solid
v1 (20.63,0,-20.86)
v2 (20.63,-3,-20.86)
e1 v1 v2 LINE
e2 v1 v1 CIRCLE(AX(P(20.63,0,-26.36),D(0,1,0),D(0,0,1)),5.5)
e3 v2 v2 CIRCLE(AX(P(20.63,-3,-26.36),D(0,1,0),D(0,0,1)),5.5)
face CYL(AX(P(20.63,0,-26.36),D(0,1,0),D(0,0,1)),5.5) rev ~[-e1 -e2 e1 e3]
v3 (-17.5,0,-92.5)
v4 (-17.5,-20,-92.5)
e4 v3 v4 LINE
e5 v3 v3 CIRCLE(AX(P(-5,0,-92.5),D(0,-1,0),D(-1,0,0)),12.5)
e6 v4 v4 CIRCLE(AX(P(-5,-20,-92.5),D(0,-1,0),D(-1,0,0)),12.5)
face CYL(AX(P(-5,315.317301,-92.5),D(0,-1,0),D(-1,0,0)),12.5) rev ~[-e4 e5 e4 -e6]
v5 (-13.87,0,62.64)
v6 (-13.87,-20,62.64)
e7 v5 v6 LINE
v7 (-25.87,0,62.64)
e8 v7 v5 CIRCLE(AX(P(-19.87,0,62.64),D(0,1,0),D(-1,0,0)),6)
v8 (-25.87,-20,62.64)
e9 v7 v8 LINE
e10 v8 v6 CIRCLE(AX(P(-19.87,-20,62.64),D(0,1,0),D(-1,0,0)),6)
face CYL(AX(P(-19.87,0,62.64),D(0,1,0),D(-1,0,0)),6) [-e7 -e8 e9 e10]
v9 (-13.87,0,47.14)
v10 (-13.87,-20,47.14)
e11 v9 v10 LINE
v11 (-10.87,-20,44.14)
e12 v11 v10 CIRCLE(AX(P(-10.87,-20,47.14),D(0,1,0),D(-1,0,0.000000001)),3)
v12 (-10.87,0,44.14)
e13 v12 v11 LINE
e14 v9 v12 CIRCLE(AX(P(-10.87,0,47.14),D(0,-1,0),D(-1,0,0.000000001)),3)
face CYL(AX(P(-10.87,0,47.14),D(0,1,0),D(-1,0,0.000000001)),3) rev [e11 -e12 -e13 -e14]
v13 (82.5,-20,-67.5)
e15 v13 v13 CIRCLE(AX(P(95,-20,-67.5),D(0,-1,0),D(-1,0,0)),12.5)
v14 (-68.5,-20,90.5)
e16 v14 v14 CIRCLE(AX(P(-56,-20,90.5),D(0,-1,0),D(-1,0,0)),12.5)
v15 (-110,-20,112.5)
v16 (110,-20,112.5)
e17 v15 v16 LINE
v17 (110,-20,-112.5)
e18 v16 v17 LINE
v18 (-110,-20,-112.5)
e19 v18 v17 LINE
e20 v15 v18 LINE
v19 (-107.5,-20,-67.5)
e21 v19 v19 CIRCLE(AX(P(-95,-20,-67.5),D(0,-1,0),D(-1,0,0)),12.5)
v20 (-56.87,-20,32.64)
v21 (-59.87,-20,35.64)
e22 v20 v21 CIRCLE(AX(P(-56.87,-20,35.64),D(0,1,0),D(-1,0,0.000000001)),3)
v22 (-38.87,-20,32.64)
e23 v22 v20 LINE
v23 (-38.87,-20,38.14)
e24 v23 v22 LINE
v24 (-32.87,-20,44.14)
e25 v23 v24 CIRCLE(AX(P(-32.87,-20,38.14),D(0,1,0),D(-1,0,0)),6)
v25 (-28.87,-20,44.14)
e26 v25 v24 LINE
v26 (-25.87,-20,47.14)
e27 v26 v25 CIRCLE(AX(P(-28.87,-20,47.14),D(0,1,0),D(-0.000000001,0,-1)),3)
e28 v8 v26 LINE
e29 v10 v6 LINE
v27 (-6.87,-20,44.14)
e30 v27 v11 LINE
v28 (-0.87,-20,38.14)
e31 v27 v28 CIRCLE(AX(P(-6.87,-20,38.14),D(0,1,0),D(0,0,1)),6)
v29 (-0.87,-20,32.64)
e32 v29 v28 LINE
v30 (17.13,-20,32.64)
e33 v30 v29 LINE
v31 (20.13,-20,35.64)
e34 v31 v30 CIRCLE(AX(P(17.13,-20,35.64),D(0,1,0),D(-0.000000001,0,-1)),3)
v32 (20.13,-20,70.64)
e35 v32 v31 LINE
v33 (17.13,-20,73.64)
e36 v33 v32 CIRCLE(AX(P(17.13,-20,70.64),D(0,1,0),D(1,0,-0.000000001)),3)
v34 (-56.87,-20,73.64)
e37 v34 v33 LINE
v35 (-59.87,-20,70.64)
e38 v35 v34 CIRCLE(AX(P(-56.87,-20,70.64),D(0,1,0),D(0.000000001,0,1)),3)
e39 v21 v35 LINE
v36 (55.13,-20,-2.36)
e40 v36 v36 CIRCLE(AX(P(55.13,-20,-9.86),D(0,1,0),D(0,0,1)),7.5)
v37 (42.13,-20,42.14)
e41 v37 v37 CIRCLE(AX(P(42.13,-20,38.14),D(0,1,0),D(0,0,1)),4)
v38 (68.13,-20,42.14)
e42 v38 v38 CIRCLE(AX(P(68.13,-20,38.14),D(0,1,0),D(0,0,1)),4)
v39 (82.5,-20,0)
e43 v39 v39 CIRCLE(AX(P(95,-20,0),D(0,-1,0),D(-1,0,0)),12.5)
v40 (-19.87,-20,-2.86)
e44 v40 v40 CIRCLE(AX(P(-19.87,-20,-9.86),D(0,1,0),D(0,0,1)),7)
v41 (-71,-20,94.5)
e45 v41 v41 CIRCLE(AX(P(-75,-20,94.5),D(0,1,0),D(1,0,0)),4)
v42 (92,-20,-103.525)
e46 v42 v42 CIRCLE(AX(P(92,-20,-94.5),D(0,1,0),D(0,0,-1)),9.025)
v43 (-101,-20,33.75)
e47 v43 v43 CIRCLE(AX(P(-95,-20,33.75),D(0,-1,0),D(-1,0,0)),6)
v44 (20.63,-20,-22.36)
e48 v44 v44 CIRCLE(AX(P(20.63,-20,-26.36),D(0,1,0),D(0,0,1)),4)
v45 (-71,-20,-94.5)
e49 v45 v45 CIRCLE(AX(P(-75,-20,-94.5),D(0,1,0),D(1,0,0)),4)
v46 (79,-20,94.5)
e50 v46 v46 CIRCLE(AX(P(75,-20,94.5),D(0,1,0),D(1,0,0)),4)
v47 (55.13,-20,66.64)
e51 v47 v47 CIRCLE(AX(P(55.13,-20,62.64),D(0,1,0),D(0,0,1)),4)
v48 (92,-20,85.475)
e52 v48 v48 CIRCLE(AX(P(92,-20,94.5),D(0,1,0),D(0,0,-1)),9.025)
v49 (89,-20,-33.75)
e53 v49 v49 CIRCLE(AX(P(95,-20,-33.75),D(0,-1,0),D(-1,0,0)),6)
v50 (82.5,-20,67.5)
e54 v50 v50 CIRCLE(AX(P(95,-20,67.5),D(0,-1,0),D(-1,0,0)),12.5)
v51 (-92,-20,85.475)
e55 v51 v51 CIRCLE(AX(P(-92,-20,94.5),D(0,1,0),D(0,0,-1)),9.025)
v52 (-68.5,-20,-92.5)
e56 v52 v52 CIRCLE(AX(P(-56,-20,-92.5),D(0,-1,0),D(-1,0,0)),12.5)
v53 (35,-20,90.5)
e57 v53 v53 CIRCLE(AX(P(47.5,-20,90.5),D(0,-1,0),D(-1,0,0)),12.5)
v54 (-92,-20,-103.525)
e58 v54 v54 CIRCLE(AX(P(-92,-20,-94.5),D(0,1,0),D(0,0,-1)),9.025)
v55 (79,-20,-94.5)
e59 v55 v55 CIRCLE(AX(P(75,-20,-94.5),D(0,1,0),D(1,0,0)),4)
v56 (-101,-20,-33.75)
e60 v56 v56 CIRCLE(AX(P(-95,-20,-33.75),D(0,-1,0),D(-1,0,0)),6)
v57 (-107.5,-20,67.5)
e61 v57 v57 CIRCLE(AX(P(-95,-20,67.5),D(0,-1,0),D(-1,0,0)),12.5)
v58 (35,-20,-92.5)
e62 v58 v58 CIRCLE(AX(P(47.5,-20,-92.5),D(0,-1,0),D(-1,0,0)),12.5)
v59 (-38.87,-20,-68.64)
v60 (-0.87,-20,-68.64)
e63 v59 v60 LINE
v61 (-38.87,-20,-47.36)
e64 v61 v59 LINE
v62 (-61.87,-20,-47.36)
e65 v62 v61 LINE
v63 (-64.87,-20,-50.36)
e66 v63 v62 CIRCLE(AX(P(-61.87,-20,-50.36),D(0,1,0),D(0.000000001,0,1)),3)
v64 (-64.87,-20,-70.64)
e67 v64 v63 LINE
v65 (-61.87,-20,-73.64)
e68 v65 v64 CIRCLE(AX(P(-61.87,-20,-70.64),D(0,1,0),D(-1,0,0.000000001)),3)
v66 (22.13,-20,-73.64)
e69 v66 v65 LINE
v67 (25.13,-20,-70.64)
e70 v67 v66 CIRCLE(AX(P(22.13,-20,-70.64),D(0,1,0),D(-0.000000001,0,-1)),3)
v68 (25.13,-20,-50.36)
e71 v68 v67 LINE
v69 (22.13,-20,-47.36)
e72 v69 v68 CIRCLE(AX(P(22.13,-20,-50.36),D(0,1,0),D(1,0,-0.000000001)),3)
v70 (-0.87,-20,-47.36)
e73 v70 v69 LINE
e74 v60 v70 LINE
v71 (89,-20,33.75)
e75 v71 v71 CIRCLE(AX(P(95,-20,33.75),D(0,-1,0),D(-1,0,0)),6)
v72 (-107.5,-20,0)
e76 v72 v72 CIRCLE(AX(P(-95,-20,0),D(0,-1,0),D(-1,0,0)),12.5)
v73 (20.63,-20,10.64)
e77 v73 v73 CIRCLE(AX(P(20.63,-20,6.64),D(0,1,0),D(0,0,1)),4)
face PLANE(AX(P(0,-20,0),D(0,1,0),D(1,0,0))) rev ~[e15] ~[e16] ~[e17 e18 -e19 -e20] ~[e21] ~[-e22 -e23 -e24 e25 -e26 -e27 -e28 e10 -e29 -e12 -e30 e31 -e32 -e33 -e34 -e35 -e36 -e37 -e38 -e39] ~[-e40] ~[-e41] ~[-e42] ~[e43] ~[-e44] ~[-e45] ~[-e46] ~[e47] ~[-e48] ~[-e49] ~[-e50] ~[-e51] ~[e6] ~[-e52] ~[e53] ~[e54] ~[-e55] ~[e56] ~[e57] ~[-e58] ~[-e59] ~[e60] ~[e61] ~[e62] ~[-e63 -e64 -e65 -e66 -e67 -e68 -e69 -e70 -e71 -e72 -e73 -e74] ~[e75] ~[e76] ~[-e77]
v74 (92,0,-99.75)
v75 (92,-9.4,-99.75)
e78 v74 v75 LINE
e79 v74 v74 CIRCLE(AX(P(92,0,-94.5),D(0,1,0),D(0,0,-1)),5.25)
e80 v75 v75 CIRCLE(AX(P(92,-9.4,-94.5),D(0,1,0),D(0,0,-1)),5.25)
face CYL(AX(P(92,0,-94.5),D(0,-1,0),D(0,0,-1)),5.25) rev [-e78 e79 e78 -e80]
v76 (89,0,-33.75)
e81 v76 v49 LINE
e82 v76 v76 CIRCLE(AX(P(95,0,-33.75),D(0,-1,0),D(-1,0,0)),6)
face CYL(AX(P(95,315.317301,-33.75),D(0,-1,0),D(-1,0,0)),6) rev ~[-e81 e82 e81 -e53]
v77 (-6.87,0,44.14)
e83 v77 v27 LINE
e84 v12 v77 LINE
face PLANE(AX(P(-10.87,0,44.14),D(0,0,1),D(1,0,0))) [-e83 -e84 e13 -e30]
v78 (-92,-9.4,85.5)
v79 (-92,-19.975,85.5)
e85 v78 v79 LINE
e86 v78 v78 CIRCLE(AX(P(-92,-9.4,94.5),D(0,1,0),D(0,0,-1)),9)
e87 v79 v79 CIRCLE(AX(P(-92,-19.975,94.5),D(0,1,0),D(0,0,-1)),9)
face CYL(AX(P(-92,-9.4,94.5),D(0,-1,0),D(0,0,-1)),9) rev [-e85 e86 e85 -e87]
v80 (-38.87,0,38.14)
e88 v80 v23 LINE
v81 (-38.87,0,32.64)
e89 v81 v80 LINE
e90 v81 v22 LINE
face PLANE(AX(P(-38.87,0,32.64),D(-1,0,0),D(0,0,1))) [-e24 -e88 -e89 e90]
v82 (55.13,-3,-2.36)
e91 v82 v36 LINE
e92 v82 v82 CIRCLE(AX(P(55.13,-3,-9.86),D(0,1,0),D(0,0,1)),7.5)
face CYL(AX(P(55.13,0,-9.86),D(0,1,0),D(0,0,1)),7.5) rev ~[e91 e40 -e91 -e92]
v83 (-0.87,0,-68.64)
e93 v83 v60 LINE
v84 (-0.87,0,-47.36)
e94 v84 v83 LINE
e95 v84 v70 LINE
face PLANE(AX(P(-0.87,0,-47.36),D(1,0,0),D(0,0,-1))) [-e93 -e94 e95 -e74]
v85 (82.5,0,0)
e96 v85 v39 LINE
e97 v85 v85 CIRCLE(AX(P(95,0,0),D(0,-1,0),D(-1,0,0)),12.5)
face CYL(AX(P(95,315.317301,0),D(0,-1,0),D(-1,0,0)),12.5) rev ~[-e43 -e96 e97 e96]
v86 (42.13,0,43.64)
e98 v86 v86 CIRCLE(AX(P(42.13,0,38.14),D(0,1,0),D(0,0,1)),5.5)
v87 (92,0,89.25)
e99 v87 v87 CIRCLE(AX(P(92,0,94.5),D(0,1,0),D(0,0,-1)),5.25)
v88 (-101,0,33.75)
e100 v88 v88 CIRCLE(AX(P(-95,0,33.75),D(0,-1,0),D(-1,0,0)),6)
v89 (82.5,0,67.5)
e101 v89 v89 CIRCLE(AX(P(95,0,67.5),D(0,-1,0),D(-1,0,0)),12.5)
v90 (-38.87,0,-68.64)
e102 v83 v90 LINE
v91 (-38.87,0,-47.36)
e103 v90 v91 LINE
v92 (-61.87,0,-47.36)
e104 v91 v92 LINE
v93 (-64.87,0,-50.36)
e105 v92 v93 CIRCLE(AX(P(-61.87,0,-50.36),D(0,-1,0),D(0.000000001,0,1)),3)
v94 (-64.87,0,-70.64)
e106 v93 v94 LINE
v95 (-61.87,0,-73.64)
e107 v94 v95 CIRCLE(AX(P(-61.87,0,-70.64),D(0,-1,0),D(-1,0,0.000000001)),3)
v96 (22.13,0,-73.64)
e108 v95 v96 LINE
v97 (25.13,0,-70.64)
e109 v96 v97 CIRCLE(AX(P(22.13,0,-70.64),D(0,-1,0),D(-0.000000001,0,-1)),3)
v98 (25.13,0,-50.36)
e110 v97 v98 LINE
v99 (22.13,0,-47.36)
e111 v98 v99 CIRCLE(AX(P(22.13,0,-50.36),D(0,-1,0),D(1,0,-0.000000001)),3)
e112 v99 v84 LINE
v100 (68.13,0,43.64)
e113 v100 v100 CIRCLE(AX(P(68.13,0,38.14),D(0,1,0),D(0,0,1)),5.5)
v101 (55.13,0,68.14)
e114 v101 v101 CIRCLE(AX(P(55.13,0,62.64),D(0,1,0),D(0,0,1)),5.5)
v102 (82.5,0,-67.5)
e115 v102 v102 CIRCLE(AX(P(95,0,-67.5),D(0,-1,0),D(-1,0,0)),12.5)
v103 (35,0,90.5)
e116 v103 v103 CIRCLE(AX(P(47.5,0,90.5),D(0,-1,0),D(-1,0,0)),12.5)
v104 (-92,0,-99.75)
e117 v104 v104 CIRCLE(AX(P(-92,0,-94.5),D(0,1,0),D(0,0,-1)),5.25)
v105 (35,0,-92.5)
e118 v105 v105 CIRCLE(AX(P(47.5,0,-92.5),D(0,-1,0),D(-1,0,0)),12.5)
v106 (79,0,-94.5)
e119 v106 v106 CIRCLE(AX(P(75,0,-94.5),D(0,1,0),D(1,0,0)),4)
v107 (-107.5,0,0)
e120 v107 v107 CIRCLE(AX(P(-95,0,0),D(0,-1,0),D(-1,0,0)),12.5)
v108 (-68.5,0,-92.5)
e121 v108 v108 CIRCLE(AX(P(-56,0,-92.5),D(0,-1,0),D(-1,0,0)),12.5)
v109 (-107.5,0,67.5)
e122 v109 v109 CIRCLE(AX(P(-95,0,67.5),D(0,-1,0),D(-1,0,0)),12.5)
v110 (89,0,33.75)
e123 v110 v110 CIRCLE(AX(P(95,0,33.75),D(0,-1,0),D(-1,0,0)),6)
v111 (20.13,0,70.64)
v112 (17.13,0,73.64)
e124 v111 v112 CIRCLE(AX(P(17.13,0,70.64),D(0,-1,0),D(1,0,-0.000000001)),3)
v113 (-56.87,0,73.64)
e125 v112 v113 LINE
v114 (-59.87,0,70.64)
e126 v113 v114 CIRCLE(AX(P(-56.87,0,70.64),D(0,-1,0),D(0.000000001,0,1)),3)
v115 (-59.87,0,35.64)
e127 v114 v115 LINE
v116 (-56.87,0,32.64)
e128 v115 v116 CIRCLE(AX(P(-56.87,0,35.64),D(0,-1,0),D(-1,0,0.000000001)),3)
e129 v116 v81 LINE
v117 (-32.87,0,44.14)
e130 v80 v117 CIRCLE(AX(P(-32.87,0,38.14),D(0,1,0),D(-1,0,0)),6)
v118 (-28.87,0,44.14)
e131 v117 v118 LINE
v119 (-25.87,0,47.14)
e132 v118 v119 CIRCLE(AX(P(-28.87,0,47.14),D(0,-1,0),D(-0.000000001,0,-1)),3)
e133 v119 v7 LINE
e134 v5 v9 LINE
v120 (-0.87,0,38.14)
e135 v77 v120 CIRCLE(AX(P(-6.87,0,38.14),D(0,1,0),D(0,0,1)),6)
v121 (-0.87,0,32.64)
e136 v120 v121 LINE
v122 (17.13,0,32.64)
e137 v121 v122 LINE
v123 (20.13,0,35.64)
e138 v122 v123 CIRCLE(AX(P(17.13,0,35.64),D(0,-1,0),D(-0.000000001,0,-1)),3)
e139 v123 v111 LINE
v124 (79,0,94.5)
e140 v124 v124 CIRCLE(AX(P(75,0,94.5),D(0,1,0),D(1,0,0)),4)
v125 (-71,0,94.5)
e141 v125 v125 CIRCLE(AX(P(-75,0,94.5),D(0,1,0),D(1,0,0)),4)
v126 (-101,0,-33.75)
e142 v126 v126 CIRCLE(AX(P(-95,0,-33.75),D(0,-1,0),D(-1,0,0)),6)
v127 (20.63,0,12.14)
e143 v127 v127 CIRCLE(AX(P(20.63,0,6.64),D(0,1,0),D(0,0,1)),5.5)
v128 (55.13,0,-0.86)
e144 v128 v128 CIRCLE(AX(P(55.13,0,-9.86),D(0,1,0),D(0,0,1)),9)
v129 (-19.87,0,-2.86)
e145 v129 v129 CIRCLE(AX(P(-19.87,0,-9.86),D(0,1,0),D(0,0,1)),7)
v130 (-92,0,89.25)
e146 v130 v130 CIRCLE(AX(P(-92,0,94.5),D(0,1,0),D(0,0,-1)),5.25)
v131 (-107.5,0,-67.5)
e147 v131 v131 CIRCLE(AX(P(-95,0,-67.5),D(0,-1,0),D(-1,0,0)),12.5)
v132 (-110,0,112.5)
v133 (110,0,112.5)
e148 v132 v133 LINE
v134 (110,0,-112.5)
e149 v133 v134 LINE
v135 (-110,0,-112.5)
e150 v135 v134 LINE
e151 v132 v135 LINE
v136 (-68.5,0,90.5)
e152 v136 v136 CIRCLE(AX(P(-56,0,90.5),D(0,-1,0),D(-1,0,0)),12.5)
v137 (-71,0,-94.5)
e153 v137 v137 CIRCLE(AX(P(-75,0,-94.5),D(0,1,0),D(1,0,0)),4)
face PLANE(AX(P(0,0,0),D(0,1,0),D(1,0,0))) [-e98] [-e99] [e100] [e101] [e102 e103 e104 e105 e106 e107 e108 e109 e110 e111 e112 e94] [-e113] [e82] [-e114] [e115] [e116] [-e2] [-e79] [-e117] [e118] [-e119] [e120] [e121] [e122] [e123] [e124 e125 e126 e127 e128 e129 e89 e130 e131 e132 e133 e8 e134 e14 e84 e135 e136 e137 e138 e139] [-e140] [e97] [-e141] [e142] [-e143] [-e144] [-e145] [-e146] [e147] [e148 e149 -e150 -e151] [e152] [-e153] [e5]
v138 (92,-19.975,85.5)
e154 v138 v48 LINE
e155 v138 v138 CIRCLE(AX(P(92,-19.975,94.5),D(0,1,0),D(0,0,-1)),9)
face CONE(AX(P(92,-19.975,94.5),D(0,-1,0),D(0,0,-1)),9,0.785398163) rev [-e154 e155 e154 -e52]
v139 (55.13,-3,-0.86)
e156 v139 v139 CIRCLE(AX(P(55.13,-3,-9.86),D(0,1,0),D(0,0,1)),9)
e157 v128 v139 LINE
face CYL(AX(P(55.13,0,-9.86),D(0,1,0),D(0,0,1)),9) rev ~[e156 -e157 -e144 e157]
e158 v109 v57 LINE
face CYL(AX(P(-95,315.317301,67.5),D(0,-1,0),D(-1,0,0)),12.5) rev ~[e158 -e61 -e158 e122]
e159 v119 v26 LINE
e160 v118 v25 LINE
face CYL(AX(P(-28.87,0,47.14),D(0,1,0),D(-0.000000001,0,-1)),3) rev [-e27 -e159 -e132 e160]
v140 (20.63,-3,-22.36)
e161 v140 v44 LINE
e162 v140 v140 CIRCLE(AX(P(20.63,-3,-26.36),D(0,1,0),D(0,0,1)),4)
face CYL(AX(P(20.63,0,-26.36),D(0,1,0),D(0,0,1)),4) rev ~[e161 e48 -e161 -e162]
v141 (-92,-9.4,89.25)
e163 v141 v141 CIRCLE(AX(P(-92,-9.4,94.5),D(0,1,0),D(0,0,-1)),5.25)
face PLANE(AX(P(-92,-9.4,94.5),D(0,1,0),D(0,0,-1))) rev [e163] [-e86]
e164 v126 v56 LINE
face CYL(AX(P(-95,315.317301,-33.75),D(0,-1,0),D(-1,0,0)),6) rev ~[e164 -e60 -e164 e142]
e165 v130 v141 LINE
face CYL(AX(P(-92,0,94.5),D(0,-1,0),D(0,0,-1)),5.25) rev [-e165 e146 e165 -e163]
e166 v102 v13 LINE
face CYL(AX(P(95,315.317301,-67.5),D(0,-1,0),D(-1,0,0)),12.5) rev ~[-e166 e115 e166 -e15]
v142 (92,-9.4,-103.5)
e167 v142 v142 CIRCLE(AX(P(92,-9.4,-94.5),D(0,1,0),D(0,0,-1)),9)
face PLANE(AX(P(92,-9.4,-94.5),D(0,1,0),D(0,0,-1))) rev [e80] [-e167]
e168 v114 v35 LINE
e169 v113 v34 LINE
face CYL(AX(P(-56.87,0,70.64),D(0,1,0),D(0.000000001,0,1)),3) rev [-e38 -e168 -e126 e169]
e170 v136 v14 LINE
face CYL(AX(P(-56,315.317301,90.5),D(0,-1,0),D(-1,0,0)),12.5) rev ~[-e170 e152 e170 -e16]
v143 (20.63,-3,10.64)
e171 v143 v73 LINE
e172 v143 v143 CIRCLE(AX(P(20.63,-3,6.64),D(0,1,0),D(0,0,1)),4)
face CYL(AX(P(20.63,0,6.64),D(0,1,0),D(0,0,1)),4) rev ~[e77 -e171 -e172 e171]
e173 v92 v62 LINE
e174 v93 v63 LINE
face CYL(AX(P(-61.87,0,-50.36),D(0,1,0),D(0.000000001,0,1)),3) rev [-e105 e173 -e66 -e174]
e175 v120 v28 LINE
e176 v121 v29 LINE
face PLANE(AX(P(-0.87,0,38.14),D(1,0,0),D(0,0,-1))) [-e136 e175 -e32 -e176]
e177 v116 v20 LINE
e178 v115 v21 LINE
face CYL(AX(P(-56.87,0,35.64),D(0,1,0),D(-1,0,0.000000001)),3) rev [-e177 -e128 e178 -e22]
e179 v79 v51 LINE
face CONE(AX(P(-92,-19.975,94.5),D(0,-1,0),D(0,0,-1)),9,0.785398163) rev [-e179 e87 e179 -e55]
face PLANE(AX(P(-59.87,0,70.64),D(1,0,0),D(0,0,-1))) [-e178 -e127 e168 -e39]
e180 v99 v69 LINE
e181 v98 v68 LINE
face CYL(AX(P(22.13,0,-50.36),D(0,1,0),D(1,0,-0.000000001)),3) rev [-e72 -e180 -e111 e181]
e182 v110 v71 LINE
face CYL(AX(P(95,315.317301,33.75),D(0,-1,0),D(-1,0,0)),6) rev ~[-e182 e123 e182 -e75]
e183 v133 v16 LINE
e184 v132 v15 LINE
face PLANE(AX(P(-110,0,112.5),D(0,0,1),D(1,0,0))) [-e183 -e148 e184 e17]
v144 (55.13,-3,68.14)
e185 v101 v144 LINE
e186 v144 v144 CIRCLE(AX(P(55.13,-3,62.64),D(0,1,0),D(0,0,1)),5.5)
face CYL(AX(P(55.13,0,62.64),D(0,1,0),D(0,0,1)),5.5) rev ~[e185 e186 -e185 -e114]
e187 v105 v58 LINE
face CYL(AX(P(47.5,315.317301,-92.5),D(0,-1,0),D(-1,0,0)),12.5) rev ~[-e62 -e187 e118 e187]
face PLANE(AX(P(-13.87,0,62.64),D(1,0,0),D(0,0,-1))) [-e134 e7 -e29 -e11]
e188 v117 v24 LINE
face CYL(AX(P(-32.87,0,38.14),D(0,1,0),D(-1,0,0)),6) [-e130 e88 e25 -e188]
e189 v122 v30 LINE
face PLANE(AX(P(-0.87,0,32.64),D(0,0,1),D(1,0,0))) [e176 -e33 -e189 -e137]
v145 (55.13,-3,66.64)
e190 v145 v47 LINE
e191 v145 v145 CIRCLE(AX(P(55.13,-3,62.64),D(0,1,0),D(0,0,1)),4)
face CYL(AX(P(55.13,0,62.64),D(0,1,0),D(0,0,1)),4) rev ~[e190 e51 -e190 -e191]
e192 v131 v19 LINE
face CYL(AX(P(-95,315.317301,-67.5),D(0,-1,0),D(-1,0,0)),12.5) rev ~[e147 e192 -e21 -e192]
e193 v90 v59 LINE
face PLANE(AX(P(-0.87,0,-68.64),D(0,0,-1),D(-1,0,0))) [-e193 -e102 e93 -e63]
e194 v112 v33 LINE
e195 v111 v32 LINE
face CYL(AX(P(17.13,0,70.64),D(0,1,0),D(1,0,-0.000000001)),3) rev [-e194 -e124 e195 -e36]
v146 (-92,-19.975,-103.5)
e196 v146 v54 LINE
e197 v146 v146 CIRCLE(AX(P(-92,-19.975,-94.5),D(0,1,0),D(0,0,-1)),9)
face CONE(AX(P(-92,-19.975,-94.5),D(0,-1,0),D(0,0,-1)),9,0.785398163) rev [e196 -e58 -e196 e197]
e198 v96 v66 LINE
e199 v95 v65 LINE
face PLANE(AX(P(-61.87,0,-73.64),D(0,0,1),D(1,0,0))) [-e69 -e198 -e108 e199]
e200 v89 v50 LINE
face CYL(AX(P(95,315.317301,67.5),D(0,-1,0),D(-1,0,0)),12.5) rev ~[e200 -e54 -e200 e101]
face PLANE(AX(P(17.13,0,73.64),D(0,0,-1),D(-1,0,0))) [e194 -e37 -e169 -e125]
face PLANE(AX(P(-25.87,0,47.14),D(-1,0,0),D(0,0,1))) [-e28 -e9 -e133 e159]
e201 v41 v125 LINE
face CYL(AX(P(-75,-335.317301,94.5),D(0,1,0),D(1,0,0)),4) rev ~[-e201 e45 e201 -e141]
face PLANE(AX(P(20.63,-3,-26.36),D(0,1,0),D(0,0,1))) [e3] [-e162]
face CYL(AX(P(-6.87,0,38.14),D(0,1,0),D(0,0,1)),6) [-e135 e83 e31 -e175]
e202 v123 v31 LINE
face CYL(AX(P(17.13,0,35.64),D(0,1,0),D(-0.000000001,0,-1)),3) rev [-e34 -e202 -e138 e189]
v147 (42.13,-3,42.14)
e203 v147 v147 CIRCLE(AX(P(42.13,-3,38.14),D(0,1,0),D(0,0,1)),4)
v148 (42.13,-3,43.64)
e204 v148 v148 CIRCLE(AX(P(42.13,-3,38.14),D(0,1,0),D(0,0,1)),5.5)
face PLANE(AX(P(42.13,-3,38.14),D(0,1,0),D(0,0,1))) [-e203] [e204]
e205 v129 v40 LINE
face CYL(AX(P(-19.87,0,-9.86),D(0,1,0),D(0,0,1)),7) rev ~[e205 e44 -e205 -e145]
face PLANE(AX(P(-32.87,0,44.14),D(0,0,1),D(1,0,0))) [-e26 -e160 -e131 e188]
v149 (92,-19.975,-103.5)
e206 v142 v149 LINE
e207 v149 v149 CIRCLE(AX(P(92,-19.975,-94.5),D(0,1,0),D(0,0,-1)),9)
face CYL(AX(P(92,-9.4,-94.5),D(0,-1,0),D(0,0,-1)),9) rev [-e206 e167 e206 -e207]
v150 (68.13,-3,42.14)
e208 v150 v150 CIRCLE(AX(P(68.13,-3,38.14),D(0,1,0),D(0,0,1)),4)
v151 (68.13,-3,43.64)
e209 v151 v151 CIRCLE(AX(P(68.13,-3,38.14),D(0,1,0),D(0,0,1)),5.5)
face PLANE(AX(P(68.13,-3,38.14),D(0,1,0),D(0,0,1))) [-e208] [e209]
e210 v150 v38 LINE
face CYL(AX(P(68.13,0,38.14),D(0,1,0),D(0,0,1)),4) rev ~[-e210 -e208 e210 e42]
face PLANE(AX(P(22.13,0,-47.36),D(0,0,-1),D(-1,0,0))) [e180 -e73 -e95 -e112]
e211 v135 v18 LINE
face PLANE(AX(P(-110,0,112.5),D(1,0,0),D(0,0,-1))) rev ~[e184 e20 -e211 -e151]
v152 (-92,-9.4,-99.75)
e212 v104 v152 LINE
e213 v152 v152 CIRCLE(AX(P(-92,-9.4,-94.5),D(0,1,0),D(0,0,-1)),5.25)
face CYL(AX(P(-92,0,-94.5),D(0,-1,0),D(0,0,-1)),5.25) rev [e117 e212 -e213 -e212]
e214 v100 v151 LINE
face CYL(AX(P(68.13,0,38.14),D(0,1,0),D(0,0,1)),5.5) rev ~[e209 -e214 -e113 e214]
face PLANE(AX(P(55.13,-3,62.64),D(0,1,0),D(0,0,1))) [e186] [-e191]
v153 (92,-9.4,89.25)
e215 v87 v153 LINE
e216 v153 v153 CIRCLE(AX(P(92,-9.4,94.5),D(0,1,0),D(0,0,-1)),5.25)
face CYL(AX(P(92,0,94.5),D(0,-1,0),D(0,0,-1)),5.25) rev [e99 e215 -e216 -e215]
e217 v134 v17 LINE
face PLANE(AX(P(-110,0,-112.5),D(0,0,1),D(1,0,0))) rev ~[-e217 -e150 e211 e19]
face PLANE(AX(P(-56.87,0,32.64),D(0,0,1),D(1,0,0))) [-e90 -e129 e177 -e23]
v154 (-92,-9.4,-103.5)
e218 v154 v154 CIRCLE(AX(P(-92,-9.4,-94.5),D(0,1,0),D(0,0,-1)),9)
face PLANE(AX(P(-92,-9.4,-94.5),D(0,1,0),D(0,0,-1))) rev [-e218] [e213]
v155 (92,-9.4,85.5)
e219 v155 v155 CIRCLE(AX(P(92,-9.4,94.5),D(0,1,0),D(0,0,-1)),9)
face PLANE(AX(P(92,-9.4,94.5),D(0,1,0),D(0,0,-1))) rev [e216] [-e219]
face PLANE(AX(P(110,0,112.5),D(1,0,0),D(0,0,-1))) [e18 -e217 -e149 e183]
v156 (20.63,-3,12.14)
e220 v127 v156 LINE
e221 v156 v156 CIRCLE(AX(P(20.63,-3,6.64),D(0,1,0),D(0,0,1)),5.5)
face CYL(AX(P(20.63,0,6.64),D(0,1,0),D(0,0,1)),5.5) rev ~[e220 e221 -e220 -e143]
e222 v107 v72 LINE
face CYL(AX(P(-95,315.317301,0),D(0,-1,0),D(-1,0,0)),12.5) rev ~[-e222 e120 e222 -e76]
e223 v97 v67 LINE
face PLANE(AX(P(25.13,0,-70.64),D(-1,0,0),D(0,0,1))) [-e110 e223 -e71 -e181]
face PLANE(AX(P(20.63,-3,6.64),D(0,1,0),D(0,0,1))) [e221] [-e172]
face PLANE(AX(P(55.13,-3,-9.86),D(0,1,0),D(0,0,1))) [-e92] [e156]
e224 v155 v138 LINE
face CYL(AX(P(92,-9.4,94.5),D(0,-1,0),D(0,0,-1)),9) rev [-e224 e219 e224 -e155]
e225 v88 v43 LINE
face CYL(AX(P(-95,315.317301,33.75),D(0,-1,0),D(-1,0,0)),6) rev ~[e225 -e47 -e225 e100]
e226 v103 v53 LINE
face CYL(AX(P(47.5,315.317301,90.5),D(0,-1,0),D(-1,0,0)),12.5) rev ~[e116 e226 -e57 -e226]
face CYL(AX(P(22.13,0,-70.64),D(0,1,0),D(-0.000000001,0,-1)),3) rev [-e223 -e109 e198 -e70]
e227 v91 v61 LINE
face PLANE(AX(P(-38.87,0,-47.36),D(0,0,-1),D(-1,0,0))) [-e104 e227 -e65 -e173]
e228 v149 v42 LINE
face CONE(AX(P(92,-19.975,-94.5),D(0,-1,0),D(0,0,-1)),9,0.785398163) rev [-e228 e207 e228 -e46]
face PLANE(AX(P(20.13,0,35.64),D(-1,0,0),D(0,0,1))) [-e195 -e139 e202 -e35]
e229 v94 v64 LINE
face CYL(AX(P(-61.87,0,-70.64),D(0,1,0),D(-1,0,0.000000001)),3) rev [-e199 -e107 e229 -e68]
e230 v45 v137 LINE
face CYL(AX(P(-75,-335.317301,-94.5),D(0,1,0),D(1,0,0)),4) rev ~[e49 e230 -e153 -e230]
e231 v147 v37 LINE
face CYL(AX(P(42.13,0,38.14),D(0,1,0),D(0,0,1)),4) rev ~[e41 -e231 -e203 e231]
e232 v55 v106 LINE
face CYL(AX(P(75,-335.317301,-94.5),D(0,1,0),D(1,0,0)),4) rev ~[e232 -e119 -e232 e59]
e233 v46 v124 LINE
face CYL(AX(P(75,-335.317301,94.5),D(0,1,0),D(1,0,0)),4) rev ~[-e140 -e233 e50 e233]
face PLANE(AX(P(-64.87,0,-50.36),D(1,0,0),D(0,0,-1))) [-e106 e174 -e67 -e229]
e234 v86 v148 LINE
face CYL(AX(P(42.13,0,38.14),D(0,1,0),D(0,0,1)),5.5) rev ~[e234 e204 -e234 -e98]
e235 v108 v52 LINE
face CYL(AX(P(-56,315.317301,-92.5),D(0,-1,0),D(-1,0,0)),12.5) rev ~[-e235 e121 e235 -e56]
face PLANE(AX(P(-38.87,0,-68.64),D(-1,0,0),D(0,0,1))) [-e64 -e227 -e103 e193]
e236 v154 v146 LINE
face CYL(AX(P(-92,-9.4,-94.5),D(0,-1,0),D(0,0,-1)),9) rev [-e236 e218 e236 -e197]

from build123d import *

# Parameters (mm, degrees)
SKETCH1_W                                    = 220
SKETCH1_H                                    = 225
BOSS_EXTRUDE1_DEPTH                          = 20
CUT_EXTRUDE3_REACH                           = 160.607
CUT_EXTRUDE4_REACH                           = 160.607
CUT_EXTRUDE5_REACH                           = 160.607
SKETCH7_R                                    = 4
CUT_EXTRUDE6_REACH                           = 160.607
SKETCH9_R                                    = 7.5
SKETCH10_R                                   = 5.5
CUT_EXTRUDE7_DEPTH                           = 3
SKETCH11_R                                   = 9
CUT_EXTRUDE8_DEPTH                           = 3
CBORE_FOR_M10_HEX_SOCKET_HEAD_CAP_SC_2_COUNT = 2
CBORE_FOR_M10_HEX_SOCKET_HEAD_CAP_SC_2_PITCH = 184
CBORE_FOR_M10_HEX_SOCKET_HEAD_CAP_SC_3_COUNT = 2
CBORE_FOR_M10_HEX_SOCKET_HEAD_CAP_SC_3_PITCH = 263.774524926
CBORE_FOR_M10_HEX_SOCKET_HEAD_CAP_SC_4_COUNT = 2
CBORE_FOR_M10_HEX_SOCKET_HEAD_CAP_SC_4_PITCH = 189
F_8_0MM_DOWEL_HOLE1_D                        = 8
F_25_0_25_DIAMETER_HOLE1_D                   = 25
CUT_EXTRUDE9_REACH                           = 160.607
SKETCH26_R                                   = 7
F_12_0_12_DIAMETER_HOLE1_D                   = 12


with BuildPart() as part:
    # Sketch1 → Boss-Extrude1 (new body)
    with BuildSketch(Plane(origin=(0, 0, 0), x_dir=(1, 0, 0), z_dir=(0, 1, 0))):
        Rectangle(SKETCH1_W, SKETCH1_H)
    extrude(amount=-BOSS_EXTRUDE1_DEPTH)

    # Sketch5 → Cut-Extrude3 (cut, up to next)
    with BuildSketch(Plane(origin=(0, 0, 0), x_dir=(1, 0, 0), z_dir=(0, 1, 0)), mode=Mode.PRIVATE) as cut_extrude3_sk1:
        with BuildLine():
            Line((-0.87, -38.14), (-0.87, -32.64))
            Line((-0.87, -32.64), (17.13, -32.64))
            ThreePointArc((17.13, -32.64), (19.251320344, -33.518679656), (20.13, -35.64))
            Line((20.13, -35.64), (20.13, -70.64))
            ThreePointArc((20.13, -70.64), (19.251320344, -72.761320344), (17.13, -73.64))
            Line((17.13, -73.64), (-56.87, -73.64))
            ThreePointArc((-56.87, -73.64), (-58.991320344, -72.761320344), (-59.87, -70.64))
            Line((-59.87, -70.64), (-59.87, -35.64))
            ThreePointArc((-59.87, -35.64), (-58.991320344, -33.518679656), (-56.87, -32.64))
            Line((-56.87, -32.64), (-38.87, -32.64))
            Line((-38.87, -32.64), (-38.87, -38.14))
            ThreePointArc((-38.87, -38.14), (-37.112640687, -42.382640687), (-32.87, -44.14))
            Line((-32.87, -44.14), (-28.87, -44.14))
            ThreePointArc((-28.87, -44.14), (-26.748679656, -45.018679656), (-25.87, -47.14))
            Line((-25.87, -47.14), (-25.87, -62.64))
            ThreePointArc((-25.87, -62.64), (-19.87, -68.64), (-13.87, -62.64))
            Line((-13.87, -62.64), (-13.87, -47.14))
            ThreePointArc((-13.87, -47.14), (-12.991320344, -45.018679656), (-10.87, -44.14))
            Line((-10.87, -44.14), (-6.87, -44.14))
            ThreePointArc((-6.87, -44.14), (-2.627359313, -42.382640687), (-0.87, -38.14))
        make_face()
    cut_extrude3_tool1 = extrude(cut_extrude3_sk1.sketch, amount=-CUT_EXTRUDE3_REACH, mode=Mode.PRIVATE) & part.part
    add(cut_extrude3_tool1.solids().sort_by_distance((-19.87, 0, 69.538944))[0], mode=Mode.SUBTRACT)

    # Sketch6 → Cut-Extrude4 (cut, up to next)
    with BuildSketch(Plane(origin=(0, 0, 0), x_dir=(1, 0, 0), z_dir=(0, 1, 0)), mode=Mode.PRIVATE) as cut_extrude4_sk1:
        with BuildLine():
            Line((-38.87, 47.36), (-61.87, 47.36))
            ThreePointArc((-61.87, 47.36), (-63.991320344, 48.238679656), (-64.87, 50.36))
            Line((-64.87, 50.36), (-64.87, 70.64))
            ThreePointArc((-64.87, 70.64), (-63.991320344, 72.761320344), (-61.87, 73.64))
            Line((-61.87, 73.64), (22.13, 73.64))
            ThreePointArc((22.13, 73.64), (24.251320344, 72.761320344), (25.13, 70.64))
            Line((25.13, 70.64), (25.13, 50.36))
            ThreePointArc((25.13, 50.36), (24.251320344, 48.238679656), (22.13, 47.36))
            Line((22.13, 47.36), (-0.87, 47.36))
            Line((-0.87, 47.36), (-0.87, 68.64))
            Line((-0.87, 68.64), (-38.87, 68.64))
            Line((-38.87, 68.64), (-38.87, 47.36))
        make_face()
    cut_extrude4_tool1 = extrude(cut_extrude4_sk1.sketch, amount=-CUT_EXTRUDE4_REACH, mode=Mode.PRIVATE) & part.part
    add(cut_extrude4_tool1.solids().sort_by_distance((-50.37, 0, -48.297584))[0], mode=Mode.SUBTRACT)

    # Sketch7 → Cut-Extrude5 (cut, up to next)
    with BuildSketch(Plane(origin=(0, 0, 0), x_dir=(1, 0, 0), z_dir=(0, 1, 0)), mode=Mode.PRIVATE) as cut_extrude5_sk1:
        with Locations((55.13, -62.64)):
            Circle(SKETCH7_R)
    cut_extrude5_tool1 = extrude(cut_extrude5_sk1.sketch, amount=-CUT_EXTRUDE5_REACH, mode=Mode.PRIVATE) & part.part
    # Sketch7 → Cut-Extrude5 (cut, up to next)
    with BuildSketch(Plane(origin=(0, 0, 0), x_dir=(1, 0, 0), z_dir=(0, 1, 0)), mode=Mode.PRIVATE) as cut_extrude5_sk2:
        with Locations((68.13, -38.14)):
            Circle(SKETCH7_R)
    cut_extrude5_tool2 = extrude(cut_extrude5_sk2.sketch, amount=-CUT_EXTRUDE5_REACH, mode=Mode.PRIVATE) & part.part
    # Sketch7 → Cut-Extrude5 (cut, up to next)
    with BuildSketch(Plane(origin=(0, 0, 0), x_dir=(1, 0, 0), z_dir=(0, 1, 0)), mode=Mode.PRIVATE) as cut_extrude5_sk3:
        with Locations((42.13, -38.14)):
            Circle(SKETCH7_R)
    cut_extrude5_tool3 = extrude(cut_extrude5_sk3.sketch, amount=-CUT_EXTRUDE5_REACH, mode=Mode.PRIVATE) & part.part
    # Sketch7 → Cut-Extrude5 (cut, up to next)
    with BuildSketch(Plane(origin=(0, 0, 0), x_dir=(1, 0, 0), z_dir=(0, 1, 0)), mode=Mode.PRIVATE) as cut_extrude5_sk4:
        with Locations((20.63, -6.64)):
            Circle(SKETCH7_R)
    cut_extrude5_tool4 = extrude(cut_extrude5_sk4.sketch, amount=-CUT_EXTRUDE5_REACH, mode=Mode.PRIVATE) & part.part
    # Sketch7 → Cut-Extrude5 (cut, up to next)
    with BuildSketch(Plane(origin=(0, 0, 0), x_dir=(1, 0, 0), z_dir=(0, 1, 0)), mode=Mode.PRIVATE) as cut_extrude5_sk5:
        with Locations((20.63, 26.36)):
            Circle(SKETCH7_R)
    cut_extrude5_tool5 = extrude(cut_extrude5_sk5.sketch, amount=-CUT_EXTRUDE5_REACH, mode=Mode.PRIVATE) & part.part
    add(cut_extrude5_tool1.solids().sort_by_distance((55.13, 0, 62.64))[0], mode=Mode.SUBTRACT)
    add(cut_extrude5_tool2.solids().sort_by_distance((68.13, 0, 38.14))[0], mode=Mode.SUBTRACT)
    add(cut_extrude5_tool3.solids().sort_by_distance((42.13, 0, 38.14))[0], mode=Mode.SUBTRACT)
    add(cut_extrude5_tool4.solids().sort_by_distance((20.63, 0, 6.64))[0], mode=Mode.SUBTRACT)
    add(cut_extrude5_tool5.solids().sort_by_distance((20.63, 0, -26.36))[0], mode=Mode.SUBTRACT)

    # Sketch9 → Cut-Extrude6 (cut, up to next)
    with BuildSketch(Plane(origin=(0, 0, 0), x_dir=(1, 0, 0), z_dir=(0, 1, 0)), mode=Mode.PRIVATE) as cut_extrude6_sk1:
        with Locations((55.13, 9.86)):
            Circle(SKETCH9_R)
    cut_extrude6_tool1 = extrude(cut_extrude6_sk1.sketch, amount=-CUT_EXTRUDE6_REACH, mode=Mode.PRIVATE) & part.part
    add(cut_extrude6_tool1.solids().sort_by_distance((55.13, 0, -9.86))[0], mode=Mode.SUBTRACT)

    # Sketch10 → Cut-Extrude7 (cut)
    with BuildSketch(Plane(origin=(0, 0, 0), x_dir=(1, 0, 0), z_dir=(0, 1, 0))):
        with Locations((20.63, 26.36)):
            Circle(SKETCH10_R)
        with Locations((20.63, -6.64)):
            Circle(SKETCH10_R)
        with Locations((42.13, -38.14)):
            Circle(SKETCH10_R)
        with Locations((68.13, -38.14)):
            Circle(SKETCH10_R)
        with Locations((55.13, -62.64)):
            Circle(SKETCH10_R)
    extrude(amount=-CUT_EXTRUDE7_DEPTH, mode=Mode.SUBTRACT)

    # Sketch11 → Cut-Extrude8 (cut)
    with BuildSketch(Plane(origin=(0, 0, 0), x_dir=(1, 0, 0), z_dir=(0, 1, 0))):
        with Locations((55.13, 9.86)):
            Circle(SKETCH11_R)
    extrude(amount=-CUT_EXTRUDE8_DEPTH, mode=Mode.SUBTRACT)

    # Sketch16 → CBORE for M10 Hex Socket Head Cap Screw1 (revolve, cut)
    with BuildSketch(Plane(origin=(92, -20, -94.5), x_dir=(0, 0, -1), z_dir=(1, 0, 0))):
        Polygon((0, 0), (0, 20), (5.25, 20), (5.25, 10.6), (9, 10.6), (9, 0.025), (9.025, 0), align=None)
    cbore_for_m10_hex_socket_head_cap_screw1 = revolve(axis=Axis((92, -26.35, -94.5), (0, 1, 0)), mode=Mode.SUBTRACT)

    # CBORE for M10 Hex Socket Head Cap Sc 2: CBORE for M10 Hex Socket Head Cap Screw1 ×2
    with Locations(*[(-i * CBORE_FOR_M10_HEX_SOCKET_HEAD_CAP_SC_2_PITCH, 0, 0) for i in range(1, CBORE_FOR_M10_HEX_SOCKET_HEAD_CAP_SC_2_COUNT)]):
        add(cbore_for_m10_hex_socket_head_cap_screw1, mode=Mode.SUBTRACT)

    # CBORE for M10 Hex Socket Head Cap Sc 3: CBORE for M10 Hex Socket Head Cap Screw1 ×2
    with Locations(*[Vector(-0.6975654682783963, 0, 0.7165210516555266) * (i * CBORE_FOR_M10_HEX_SOCKET_HEAD_CAP_SC_3_PITCH) for i in range(1, CBORE_FOR_M10_HEX_SOCKET_HEAD_CAP_SC_3_COUNT)]):
        add(cbore_for_m10_hex_socket_head_cap_screw1, mode=Mode.SUBTRACT)

    # CBORE for M10 Hex Socket Head Cap Sc 4: CBORE for M10 Hex Socket Head Cap Screw1 ×2
    with Locations(*[(0, 0, i * CBORE_FOR_M10_HEX_SOCKET_HEAD_CAP_SC_4_PITCH) for i in range(1, CBORE_FOR_M10_HEX_SOCKET_HEAD_CAP_SC_4_COUNT)]):
        add(cbore_for_m10_hex_socket_head_cap_screw1, mode=Mode.SUBTRACT)

    # Ø8.0mm Dowel Hole1 (through all)
    with Locations(Plane(origin=(0, -20, 0), x_dir=(-1, 0, 0), z_dir=(0, -1, 0))):
        with Locations((-75, 94.5), (75, 94.5), (75, -94.5), (-75, -94.5)):
            Hole(F_8_0MM_DOWEL_HOLE1_D / 2)

    # Ø25.0 (25) Diameter Hole1 (through all)
    with Locations(Plane(origin=(0, 0, 0), x_dir=(1, 0, 0), z_dir=(0, 1, 0))):
        with Locations((-56, 92.5), (-5, 92.5), (47.5, 92.5), (95, 67.5), (95, 0), (95, -67.5), (47.5, -90.5), (-56, -90.5), (-95, -67.5), (-95, 0), (-95, 67.5)):
            Hole(F_25_0_25_DIAMETER_HOLE1_D / 2)

    # Sketch26 → Cut-Extrude9 (cut, up to next)
    with BuildSketch(Plane(origin=(0, 0, 0), x_dir=(1, 0, 0), z_dir=(0, 1, 0)), mode=Mode.PRIVATE) as cut_extrude9_sk1:
        with Locations((-19.87, 9.86)):
            Circle(SKETCH26_R)
    cut_extrude9_tool1 = extrude(cut_extrude9_sk1.sketch, amount=-CUT_EXTRUDE9_REACH, mode=Mode.PRIVATE) & part.part
    add(cut_extrude9_tool1.solids().sort_by_distance((-19.87, 0, -9.86))[0], mode=Mode.SUBTRACT)

    # Ø12.0 (12) Diameter Hole1 (through all)
    with Locations(Plane(origin=(0, 0, 0), x_dir=(1, 0, 0), z_dir=(0, 1, 0))):
        with Locations((95, 33.75), (-95, 33.75), (-95, -33.75), (95, -33.75)):
            Hole(F_12_0_12_DIAMETER_HOLE1_D / 2)


solid = part.part
